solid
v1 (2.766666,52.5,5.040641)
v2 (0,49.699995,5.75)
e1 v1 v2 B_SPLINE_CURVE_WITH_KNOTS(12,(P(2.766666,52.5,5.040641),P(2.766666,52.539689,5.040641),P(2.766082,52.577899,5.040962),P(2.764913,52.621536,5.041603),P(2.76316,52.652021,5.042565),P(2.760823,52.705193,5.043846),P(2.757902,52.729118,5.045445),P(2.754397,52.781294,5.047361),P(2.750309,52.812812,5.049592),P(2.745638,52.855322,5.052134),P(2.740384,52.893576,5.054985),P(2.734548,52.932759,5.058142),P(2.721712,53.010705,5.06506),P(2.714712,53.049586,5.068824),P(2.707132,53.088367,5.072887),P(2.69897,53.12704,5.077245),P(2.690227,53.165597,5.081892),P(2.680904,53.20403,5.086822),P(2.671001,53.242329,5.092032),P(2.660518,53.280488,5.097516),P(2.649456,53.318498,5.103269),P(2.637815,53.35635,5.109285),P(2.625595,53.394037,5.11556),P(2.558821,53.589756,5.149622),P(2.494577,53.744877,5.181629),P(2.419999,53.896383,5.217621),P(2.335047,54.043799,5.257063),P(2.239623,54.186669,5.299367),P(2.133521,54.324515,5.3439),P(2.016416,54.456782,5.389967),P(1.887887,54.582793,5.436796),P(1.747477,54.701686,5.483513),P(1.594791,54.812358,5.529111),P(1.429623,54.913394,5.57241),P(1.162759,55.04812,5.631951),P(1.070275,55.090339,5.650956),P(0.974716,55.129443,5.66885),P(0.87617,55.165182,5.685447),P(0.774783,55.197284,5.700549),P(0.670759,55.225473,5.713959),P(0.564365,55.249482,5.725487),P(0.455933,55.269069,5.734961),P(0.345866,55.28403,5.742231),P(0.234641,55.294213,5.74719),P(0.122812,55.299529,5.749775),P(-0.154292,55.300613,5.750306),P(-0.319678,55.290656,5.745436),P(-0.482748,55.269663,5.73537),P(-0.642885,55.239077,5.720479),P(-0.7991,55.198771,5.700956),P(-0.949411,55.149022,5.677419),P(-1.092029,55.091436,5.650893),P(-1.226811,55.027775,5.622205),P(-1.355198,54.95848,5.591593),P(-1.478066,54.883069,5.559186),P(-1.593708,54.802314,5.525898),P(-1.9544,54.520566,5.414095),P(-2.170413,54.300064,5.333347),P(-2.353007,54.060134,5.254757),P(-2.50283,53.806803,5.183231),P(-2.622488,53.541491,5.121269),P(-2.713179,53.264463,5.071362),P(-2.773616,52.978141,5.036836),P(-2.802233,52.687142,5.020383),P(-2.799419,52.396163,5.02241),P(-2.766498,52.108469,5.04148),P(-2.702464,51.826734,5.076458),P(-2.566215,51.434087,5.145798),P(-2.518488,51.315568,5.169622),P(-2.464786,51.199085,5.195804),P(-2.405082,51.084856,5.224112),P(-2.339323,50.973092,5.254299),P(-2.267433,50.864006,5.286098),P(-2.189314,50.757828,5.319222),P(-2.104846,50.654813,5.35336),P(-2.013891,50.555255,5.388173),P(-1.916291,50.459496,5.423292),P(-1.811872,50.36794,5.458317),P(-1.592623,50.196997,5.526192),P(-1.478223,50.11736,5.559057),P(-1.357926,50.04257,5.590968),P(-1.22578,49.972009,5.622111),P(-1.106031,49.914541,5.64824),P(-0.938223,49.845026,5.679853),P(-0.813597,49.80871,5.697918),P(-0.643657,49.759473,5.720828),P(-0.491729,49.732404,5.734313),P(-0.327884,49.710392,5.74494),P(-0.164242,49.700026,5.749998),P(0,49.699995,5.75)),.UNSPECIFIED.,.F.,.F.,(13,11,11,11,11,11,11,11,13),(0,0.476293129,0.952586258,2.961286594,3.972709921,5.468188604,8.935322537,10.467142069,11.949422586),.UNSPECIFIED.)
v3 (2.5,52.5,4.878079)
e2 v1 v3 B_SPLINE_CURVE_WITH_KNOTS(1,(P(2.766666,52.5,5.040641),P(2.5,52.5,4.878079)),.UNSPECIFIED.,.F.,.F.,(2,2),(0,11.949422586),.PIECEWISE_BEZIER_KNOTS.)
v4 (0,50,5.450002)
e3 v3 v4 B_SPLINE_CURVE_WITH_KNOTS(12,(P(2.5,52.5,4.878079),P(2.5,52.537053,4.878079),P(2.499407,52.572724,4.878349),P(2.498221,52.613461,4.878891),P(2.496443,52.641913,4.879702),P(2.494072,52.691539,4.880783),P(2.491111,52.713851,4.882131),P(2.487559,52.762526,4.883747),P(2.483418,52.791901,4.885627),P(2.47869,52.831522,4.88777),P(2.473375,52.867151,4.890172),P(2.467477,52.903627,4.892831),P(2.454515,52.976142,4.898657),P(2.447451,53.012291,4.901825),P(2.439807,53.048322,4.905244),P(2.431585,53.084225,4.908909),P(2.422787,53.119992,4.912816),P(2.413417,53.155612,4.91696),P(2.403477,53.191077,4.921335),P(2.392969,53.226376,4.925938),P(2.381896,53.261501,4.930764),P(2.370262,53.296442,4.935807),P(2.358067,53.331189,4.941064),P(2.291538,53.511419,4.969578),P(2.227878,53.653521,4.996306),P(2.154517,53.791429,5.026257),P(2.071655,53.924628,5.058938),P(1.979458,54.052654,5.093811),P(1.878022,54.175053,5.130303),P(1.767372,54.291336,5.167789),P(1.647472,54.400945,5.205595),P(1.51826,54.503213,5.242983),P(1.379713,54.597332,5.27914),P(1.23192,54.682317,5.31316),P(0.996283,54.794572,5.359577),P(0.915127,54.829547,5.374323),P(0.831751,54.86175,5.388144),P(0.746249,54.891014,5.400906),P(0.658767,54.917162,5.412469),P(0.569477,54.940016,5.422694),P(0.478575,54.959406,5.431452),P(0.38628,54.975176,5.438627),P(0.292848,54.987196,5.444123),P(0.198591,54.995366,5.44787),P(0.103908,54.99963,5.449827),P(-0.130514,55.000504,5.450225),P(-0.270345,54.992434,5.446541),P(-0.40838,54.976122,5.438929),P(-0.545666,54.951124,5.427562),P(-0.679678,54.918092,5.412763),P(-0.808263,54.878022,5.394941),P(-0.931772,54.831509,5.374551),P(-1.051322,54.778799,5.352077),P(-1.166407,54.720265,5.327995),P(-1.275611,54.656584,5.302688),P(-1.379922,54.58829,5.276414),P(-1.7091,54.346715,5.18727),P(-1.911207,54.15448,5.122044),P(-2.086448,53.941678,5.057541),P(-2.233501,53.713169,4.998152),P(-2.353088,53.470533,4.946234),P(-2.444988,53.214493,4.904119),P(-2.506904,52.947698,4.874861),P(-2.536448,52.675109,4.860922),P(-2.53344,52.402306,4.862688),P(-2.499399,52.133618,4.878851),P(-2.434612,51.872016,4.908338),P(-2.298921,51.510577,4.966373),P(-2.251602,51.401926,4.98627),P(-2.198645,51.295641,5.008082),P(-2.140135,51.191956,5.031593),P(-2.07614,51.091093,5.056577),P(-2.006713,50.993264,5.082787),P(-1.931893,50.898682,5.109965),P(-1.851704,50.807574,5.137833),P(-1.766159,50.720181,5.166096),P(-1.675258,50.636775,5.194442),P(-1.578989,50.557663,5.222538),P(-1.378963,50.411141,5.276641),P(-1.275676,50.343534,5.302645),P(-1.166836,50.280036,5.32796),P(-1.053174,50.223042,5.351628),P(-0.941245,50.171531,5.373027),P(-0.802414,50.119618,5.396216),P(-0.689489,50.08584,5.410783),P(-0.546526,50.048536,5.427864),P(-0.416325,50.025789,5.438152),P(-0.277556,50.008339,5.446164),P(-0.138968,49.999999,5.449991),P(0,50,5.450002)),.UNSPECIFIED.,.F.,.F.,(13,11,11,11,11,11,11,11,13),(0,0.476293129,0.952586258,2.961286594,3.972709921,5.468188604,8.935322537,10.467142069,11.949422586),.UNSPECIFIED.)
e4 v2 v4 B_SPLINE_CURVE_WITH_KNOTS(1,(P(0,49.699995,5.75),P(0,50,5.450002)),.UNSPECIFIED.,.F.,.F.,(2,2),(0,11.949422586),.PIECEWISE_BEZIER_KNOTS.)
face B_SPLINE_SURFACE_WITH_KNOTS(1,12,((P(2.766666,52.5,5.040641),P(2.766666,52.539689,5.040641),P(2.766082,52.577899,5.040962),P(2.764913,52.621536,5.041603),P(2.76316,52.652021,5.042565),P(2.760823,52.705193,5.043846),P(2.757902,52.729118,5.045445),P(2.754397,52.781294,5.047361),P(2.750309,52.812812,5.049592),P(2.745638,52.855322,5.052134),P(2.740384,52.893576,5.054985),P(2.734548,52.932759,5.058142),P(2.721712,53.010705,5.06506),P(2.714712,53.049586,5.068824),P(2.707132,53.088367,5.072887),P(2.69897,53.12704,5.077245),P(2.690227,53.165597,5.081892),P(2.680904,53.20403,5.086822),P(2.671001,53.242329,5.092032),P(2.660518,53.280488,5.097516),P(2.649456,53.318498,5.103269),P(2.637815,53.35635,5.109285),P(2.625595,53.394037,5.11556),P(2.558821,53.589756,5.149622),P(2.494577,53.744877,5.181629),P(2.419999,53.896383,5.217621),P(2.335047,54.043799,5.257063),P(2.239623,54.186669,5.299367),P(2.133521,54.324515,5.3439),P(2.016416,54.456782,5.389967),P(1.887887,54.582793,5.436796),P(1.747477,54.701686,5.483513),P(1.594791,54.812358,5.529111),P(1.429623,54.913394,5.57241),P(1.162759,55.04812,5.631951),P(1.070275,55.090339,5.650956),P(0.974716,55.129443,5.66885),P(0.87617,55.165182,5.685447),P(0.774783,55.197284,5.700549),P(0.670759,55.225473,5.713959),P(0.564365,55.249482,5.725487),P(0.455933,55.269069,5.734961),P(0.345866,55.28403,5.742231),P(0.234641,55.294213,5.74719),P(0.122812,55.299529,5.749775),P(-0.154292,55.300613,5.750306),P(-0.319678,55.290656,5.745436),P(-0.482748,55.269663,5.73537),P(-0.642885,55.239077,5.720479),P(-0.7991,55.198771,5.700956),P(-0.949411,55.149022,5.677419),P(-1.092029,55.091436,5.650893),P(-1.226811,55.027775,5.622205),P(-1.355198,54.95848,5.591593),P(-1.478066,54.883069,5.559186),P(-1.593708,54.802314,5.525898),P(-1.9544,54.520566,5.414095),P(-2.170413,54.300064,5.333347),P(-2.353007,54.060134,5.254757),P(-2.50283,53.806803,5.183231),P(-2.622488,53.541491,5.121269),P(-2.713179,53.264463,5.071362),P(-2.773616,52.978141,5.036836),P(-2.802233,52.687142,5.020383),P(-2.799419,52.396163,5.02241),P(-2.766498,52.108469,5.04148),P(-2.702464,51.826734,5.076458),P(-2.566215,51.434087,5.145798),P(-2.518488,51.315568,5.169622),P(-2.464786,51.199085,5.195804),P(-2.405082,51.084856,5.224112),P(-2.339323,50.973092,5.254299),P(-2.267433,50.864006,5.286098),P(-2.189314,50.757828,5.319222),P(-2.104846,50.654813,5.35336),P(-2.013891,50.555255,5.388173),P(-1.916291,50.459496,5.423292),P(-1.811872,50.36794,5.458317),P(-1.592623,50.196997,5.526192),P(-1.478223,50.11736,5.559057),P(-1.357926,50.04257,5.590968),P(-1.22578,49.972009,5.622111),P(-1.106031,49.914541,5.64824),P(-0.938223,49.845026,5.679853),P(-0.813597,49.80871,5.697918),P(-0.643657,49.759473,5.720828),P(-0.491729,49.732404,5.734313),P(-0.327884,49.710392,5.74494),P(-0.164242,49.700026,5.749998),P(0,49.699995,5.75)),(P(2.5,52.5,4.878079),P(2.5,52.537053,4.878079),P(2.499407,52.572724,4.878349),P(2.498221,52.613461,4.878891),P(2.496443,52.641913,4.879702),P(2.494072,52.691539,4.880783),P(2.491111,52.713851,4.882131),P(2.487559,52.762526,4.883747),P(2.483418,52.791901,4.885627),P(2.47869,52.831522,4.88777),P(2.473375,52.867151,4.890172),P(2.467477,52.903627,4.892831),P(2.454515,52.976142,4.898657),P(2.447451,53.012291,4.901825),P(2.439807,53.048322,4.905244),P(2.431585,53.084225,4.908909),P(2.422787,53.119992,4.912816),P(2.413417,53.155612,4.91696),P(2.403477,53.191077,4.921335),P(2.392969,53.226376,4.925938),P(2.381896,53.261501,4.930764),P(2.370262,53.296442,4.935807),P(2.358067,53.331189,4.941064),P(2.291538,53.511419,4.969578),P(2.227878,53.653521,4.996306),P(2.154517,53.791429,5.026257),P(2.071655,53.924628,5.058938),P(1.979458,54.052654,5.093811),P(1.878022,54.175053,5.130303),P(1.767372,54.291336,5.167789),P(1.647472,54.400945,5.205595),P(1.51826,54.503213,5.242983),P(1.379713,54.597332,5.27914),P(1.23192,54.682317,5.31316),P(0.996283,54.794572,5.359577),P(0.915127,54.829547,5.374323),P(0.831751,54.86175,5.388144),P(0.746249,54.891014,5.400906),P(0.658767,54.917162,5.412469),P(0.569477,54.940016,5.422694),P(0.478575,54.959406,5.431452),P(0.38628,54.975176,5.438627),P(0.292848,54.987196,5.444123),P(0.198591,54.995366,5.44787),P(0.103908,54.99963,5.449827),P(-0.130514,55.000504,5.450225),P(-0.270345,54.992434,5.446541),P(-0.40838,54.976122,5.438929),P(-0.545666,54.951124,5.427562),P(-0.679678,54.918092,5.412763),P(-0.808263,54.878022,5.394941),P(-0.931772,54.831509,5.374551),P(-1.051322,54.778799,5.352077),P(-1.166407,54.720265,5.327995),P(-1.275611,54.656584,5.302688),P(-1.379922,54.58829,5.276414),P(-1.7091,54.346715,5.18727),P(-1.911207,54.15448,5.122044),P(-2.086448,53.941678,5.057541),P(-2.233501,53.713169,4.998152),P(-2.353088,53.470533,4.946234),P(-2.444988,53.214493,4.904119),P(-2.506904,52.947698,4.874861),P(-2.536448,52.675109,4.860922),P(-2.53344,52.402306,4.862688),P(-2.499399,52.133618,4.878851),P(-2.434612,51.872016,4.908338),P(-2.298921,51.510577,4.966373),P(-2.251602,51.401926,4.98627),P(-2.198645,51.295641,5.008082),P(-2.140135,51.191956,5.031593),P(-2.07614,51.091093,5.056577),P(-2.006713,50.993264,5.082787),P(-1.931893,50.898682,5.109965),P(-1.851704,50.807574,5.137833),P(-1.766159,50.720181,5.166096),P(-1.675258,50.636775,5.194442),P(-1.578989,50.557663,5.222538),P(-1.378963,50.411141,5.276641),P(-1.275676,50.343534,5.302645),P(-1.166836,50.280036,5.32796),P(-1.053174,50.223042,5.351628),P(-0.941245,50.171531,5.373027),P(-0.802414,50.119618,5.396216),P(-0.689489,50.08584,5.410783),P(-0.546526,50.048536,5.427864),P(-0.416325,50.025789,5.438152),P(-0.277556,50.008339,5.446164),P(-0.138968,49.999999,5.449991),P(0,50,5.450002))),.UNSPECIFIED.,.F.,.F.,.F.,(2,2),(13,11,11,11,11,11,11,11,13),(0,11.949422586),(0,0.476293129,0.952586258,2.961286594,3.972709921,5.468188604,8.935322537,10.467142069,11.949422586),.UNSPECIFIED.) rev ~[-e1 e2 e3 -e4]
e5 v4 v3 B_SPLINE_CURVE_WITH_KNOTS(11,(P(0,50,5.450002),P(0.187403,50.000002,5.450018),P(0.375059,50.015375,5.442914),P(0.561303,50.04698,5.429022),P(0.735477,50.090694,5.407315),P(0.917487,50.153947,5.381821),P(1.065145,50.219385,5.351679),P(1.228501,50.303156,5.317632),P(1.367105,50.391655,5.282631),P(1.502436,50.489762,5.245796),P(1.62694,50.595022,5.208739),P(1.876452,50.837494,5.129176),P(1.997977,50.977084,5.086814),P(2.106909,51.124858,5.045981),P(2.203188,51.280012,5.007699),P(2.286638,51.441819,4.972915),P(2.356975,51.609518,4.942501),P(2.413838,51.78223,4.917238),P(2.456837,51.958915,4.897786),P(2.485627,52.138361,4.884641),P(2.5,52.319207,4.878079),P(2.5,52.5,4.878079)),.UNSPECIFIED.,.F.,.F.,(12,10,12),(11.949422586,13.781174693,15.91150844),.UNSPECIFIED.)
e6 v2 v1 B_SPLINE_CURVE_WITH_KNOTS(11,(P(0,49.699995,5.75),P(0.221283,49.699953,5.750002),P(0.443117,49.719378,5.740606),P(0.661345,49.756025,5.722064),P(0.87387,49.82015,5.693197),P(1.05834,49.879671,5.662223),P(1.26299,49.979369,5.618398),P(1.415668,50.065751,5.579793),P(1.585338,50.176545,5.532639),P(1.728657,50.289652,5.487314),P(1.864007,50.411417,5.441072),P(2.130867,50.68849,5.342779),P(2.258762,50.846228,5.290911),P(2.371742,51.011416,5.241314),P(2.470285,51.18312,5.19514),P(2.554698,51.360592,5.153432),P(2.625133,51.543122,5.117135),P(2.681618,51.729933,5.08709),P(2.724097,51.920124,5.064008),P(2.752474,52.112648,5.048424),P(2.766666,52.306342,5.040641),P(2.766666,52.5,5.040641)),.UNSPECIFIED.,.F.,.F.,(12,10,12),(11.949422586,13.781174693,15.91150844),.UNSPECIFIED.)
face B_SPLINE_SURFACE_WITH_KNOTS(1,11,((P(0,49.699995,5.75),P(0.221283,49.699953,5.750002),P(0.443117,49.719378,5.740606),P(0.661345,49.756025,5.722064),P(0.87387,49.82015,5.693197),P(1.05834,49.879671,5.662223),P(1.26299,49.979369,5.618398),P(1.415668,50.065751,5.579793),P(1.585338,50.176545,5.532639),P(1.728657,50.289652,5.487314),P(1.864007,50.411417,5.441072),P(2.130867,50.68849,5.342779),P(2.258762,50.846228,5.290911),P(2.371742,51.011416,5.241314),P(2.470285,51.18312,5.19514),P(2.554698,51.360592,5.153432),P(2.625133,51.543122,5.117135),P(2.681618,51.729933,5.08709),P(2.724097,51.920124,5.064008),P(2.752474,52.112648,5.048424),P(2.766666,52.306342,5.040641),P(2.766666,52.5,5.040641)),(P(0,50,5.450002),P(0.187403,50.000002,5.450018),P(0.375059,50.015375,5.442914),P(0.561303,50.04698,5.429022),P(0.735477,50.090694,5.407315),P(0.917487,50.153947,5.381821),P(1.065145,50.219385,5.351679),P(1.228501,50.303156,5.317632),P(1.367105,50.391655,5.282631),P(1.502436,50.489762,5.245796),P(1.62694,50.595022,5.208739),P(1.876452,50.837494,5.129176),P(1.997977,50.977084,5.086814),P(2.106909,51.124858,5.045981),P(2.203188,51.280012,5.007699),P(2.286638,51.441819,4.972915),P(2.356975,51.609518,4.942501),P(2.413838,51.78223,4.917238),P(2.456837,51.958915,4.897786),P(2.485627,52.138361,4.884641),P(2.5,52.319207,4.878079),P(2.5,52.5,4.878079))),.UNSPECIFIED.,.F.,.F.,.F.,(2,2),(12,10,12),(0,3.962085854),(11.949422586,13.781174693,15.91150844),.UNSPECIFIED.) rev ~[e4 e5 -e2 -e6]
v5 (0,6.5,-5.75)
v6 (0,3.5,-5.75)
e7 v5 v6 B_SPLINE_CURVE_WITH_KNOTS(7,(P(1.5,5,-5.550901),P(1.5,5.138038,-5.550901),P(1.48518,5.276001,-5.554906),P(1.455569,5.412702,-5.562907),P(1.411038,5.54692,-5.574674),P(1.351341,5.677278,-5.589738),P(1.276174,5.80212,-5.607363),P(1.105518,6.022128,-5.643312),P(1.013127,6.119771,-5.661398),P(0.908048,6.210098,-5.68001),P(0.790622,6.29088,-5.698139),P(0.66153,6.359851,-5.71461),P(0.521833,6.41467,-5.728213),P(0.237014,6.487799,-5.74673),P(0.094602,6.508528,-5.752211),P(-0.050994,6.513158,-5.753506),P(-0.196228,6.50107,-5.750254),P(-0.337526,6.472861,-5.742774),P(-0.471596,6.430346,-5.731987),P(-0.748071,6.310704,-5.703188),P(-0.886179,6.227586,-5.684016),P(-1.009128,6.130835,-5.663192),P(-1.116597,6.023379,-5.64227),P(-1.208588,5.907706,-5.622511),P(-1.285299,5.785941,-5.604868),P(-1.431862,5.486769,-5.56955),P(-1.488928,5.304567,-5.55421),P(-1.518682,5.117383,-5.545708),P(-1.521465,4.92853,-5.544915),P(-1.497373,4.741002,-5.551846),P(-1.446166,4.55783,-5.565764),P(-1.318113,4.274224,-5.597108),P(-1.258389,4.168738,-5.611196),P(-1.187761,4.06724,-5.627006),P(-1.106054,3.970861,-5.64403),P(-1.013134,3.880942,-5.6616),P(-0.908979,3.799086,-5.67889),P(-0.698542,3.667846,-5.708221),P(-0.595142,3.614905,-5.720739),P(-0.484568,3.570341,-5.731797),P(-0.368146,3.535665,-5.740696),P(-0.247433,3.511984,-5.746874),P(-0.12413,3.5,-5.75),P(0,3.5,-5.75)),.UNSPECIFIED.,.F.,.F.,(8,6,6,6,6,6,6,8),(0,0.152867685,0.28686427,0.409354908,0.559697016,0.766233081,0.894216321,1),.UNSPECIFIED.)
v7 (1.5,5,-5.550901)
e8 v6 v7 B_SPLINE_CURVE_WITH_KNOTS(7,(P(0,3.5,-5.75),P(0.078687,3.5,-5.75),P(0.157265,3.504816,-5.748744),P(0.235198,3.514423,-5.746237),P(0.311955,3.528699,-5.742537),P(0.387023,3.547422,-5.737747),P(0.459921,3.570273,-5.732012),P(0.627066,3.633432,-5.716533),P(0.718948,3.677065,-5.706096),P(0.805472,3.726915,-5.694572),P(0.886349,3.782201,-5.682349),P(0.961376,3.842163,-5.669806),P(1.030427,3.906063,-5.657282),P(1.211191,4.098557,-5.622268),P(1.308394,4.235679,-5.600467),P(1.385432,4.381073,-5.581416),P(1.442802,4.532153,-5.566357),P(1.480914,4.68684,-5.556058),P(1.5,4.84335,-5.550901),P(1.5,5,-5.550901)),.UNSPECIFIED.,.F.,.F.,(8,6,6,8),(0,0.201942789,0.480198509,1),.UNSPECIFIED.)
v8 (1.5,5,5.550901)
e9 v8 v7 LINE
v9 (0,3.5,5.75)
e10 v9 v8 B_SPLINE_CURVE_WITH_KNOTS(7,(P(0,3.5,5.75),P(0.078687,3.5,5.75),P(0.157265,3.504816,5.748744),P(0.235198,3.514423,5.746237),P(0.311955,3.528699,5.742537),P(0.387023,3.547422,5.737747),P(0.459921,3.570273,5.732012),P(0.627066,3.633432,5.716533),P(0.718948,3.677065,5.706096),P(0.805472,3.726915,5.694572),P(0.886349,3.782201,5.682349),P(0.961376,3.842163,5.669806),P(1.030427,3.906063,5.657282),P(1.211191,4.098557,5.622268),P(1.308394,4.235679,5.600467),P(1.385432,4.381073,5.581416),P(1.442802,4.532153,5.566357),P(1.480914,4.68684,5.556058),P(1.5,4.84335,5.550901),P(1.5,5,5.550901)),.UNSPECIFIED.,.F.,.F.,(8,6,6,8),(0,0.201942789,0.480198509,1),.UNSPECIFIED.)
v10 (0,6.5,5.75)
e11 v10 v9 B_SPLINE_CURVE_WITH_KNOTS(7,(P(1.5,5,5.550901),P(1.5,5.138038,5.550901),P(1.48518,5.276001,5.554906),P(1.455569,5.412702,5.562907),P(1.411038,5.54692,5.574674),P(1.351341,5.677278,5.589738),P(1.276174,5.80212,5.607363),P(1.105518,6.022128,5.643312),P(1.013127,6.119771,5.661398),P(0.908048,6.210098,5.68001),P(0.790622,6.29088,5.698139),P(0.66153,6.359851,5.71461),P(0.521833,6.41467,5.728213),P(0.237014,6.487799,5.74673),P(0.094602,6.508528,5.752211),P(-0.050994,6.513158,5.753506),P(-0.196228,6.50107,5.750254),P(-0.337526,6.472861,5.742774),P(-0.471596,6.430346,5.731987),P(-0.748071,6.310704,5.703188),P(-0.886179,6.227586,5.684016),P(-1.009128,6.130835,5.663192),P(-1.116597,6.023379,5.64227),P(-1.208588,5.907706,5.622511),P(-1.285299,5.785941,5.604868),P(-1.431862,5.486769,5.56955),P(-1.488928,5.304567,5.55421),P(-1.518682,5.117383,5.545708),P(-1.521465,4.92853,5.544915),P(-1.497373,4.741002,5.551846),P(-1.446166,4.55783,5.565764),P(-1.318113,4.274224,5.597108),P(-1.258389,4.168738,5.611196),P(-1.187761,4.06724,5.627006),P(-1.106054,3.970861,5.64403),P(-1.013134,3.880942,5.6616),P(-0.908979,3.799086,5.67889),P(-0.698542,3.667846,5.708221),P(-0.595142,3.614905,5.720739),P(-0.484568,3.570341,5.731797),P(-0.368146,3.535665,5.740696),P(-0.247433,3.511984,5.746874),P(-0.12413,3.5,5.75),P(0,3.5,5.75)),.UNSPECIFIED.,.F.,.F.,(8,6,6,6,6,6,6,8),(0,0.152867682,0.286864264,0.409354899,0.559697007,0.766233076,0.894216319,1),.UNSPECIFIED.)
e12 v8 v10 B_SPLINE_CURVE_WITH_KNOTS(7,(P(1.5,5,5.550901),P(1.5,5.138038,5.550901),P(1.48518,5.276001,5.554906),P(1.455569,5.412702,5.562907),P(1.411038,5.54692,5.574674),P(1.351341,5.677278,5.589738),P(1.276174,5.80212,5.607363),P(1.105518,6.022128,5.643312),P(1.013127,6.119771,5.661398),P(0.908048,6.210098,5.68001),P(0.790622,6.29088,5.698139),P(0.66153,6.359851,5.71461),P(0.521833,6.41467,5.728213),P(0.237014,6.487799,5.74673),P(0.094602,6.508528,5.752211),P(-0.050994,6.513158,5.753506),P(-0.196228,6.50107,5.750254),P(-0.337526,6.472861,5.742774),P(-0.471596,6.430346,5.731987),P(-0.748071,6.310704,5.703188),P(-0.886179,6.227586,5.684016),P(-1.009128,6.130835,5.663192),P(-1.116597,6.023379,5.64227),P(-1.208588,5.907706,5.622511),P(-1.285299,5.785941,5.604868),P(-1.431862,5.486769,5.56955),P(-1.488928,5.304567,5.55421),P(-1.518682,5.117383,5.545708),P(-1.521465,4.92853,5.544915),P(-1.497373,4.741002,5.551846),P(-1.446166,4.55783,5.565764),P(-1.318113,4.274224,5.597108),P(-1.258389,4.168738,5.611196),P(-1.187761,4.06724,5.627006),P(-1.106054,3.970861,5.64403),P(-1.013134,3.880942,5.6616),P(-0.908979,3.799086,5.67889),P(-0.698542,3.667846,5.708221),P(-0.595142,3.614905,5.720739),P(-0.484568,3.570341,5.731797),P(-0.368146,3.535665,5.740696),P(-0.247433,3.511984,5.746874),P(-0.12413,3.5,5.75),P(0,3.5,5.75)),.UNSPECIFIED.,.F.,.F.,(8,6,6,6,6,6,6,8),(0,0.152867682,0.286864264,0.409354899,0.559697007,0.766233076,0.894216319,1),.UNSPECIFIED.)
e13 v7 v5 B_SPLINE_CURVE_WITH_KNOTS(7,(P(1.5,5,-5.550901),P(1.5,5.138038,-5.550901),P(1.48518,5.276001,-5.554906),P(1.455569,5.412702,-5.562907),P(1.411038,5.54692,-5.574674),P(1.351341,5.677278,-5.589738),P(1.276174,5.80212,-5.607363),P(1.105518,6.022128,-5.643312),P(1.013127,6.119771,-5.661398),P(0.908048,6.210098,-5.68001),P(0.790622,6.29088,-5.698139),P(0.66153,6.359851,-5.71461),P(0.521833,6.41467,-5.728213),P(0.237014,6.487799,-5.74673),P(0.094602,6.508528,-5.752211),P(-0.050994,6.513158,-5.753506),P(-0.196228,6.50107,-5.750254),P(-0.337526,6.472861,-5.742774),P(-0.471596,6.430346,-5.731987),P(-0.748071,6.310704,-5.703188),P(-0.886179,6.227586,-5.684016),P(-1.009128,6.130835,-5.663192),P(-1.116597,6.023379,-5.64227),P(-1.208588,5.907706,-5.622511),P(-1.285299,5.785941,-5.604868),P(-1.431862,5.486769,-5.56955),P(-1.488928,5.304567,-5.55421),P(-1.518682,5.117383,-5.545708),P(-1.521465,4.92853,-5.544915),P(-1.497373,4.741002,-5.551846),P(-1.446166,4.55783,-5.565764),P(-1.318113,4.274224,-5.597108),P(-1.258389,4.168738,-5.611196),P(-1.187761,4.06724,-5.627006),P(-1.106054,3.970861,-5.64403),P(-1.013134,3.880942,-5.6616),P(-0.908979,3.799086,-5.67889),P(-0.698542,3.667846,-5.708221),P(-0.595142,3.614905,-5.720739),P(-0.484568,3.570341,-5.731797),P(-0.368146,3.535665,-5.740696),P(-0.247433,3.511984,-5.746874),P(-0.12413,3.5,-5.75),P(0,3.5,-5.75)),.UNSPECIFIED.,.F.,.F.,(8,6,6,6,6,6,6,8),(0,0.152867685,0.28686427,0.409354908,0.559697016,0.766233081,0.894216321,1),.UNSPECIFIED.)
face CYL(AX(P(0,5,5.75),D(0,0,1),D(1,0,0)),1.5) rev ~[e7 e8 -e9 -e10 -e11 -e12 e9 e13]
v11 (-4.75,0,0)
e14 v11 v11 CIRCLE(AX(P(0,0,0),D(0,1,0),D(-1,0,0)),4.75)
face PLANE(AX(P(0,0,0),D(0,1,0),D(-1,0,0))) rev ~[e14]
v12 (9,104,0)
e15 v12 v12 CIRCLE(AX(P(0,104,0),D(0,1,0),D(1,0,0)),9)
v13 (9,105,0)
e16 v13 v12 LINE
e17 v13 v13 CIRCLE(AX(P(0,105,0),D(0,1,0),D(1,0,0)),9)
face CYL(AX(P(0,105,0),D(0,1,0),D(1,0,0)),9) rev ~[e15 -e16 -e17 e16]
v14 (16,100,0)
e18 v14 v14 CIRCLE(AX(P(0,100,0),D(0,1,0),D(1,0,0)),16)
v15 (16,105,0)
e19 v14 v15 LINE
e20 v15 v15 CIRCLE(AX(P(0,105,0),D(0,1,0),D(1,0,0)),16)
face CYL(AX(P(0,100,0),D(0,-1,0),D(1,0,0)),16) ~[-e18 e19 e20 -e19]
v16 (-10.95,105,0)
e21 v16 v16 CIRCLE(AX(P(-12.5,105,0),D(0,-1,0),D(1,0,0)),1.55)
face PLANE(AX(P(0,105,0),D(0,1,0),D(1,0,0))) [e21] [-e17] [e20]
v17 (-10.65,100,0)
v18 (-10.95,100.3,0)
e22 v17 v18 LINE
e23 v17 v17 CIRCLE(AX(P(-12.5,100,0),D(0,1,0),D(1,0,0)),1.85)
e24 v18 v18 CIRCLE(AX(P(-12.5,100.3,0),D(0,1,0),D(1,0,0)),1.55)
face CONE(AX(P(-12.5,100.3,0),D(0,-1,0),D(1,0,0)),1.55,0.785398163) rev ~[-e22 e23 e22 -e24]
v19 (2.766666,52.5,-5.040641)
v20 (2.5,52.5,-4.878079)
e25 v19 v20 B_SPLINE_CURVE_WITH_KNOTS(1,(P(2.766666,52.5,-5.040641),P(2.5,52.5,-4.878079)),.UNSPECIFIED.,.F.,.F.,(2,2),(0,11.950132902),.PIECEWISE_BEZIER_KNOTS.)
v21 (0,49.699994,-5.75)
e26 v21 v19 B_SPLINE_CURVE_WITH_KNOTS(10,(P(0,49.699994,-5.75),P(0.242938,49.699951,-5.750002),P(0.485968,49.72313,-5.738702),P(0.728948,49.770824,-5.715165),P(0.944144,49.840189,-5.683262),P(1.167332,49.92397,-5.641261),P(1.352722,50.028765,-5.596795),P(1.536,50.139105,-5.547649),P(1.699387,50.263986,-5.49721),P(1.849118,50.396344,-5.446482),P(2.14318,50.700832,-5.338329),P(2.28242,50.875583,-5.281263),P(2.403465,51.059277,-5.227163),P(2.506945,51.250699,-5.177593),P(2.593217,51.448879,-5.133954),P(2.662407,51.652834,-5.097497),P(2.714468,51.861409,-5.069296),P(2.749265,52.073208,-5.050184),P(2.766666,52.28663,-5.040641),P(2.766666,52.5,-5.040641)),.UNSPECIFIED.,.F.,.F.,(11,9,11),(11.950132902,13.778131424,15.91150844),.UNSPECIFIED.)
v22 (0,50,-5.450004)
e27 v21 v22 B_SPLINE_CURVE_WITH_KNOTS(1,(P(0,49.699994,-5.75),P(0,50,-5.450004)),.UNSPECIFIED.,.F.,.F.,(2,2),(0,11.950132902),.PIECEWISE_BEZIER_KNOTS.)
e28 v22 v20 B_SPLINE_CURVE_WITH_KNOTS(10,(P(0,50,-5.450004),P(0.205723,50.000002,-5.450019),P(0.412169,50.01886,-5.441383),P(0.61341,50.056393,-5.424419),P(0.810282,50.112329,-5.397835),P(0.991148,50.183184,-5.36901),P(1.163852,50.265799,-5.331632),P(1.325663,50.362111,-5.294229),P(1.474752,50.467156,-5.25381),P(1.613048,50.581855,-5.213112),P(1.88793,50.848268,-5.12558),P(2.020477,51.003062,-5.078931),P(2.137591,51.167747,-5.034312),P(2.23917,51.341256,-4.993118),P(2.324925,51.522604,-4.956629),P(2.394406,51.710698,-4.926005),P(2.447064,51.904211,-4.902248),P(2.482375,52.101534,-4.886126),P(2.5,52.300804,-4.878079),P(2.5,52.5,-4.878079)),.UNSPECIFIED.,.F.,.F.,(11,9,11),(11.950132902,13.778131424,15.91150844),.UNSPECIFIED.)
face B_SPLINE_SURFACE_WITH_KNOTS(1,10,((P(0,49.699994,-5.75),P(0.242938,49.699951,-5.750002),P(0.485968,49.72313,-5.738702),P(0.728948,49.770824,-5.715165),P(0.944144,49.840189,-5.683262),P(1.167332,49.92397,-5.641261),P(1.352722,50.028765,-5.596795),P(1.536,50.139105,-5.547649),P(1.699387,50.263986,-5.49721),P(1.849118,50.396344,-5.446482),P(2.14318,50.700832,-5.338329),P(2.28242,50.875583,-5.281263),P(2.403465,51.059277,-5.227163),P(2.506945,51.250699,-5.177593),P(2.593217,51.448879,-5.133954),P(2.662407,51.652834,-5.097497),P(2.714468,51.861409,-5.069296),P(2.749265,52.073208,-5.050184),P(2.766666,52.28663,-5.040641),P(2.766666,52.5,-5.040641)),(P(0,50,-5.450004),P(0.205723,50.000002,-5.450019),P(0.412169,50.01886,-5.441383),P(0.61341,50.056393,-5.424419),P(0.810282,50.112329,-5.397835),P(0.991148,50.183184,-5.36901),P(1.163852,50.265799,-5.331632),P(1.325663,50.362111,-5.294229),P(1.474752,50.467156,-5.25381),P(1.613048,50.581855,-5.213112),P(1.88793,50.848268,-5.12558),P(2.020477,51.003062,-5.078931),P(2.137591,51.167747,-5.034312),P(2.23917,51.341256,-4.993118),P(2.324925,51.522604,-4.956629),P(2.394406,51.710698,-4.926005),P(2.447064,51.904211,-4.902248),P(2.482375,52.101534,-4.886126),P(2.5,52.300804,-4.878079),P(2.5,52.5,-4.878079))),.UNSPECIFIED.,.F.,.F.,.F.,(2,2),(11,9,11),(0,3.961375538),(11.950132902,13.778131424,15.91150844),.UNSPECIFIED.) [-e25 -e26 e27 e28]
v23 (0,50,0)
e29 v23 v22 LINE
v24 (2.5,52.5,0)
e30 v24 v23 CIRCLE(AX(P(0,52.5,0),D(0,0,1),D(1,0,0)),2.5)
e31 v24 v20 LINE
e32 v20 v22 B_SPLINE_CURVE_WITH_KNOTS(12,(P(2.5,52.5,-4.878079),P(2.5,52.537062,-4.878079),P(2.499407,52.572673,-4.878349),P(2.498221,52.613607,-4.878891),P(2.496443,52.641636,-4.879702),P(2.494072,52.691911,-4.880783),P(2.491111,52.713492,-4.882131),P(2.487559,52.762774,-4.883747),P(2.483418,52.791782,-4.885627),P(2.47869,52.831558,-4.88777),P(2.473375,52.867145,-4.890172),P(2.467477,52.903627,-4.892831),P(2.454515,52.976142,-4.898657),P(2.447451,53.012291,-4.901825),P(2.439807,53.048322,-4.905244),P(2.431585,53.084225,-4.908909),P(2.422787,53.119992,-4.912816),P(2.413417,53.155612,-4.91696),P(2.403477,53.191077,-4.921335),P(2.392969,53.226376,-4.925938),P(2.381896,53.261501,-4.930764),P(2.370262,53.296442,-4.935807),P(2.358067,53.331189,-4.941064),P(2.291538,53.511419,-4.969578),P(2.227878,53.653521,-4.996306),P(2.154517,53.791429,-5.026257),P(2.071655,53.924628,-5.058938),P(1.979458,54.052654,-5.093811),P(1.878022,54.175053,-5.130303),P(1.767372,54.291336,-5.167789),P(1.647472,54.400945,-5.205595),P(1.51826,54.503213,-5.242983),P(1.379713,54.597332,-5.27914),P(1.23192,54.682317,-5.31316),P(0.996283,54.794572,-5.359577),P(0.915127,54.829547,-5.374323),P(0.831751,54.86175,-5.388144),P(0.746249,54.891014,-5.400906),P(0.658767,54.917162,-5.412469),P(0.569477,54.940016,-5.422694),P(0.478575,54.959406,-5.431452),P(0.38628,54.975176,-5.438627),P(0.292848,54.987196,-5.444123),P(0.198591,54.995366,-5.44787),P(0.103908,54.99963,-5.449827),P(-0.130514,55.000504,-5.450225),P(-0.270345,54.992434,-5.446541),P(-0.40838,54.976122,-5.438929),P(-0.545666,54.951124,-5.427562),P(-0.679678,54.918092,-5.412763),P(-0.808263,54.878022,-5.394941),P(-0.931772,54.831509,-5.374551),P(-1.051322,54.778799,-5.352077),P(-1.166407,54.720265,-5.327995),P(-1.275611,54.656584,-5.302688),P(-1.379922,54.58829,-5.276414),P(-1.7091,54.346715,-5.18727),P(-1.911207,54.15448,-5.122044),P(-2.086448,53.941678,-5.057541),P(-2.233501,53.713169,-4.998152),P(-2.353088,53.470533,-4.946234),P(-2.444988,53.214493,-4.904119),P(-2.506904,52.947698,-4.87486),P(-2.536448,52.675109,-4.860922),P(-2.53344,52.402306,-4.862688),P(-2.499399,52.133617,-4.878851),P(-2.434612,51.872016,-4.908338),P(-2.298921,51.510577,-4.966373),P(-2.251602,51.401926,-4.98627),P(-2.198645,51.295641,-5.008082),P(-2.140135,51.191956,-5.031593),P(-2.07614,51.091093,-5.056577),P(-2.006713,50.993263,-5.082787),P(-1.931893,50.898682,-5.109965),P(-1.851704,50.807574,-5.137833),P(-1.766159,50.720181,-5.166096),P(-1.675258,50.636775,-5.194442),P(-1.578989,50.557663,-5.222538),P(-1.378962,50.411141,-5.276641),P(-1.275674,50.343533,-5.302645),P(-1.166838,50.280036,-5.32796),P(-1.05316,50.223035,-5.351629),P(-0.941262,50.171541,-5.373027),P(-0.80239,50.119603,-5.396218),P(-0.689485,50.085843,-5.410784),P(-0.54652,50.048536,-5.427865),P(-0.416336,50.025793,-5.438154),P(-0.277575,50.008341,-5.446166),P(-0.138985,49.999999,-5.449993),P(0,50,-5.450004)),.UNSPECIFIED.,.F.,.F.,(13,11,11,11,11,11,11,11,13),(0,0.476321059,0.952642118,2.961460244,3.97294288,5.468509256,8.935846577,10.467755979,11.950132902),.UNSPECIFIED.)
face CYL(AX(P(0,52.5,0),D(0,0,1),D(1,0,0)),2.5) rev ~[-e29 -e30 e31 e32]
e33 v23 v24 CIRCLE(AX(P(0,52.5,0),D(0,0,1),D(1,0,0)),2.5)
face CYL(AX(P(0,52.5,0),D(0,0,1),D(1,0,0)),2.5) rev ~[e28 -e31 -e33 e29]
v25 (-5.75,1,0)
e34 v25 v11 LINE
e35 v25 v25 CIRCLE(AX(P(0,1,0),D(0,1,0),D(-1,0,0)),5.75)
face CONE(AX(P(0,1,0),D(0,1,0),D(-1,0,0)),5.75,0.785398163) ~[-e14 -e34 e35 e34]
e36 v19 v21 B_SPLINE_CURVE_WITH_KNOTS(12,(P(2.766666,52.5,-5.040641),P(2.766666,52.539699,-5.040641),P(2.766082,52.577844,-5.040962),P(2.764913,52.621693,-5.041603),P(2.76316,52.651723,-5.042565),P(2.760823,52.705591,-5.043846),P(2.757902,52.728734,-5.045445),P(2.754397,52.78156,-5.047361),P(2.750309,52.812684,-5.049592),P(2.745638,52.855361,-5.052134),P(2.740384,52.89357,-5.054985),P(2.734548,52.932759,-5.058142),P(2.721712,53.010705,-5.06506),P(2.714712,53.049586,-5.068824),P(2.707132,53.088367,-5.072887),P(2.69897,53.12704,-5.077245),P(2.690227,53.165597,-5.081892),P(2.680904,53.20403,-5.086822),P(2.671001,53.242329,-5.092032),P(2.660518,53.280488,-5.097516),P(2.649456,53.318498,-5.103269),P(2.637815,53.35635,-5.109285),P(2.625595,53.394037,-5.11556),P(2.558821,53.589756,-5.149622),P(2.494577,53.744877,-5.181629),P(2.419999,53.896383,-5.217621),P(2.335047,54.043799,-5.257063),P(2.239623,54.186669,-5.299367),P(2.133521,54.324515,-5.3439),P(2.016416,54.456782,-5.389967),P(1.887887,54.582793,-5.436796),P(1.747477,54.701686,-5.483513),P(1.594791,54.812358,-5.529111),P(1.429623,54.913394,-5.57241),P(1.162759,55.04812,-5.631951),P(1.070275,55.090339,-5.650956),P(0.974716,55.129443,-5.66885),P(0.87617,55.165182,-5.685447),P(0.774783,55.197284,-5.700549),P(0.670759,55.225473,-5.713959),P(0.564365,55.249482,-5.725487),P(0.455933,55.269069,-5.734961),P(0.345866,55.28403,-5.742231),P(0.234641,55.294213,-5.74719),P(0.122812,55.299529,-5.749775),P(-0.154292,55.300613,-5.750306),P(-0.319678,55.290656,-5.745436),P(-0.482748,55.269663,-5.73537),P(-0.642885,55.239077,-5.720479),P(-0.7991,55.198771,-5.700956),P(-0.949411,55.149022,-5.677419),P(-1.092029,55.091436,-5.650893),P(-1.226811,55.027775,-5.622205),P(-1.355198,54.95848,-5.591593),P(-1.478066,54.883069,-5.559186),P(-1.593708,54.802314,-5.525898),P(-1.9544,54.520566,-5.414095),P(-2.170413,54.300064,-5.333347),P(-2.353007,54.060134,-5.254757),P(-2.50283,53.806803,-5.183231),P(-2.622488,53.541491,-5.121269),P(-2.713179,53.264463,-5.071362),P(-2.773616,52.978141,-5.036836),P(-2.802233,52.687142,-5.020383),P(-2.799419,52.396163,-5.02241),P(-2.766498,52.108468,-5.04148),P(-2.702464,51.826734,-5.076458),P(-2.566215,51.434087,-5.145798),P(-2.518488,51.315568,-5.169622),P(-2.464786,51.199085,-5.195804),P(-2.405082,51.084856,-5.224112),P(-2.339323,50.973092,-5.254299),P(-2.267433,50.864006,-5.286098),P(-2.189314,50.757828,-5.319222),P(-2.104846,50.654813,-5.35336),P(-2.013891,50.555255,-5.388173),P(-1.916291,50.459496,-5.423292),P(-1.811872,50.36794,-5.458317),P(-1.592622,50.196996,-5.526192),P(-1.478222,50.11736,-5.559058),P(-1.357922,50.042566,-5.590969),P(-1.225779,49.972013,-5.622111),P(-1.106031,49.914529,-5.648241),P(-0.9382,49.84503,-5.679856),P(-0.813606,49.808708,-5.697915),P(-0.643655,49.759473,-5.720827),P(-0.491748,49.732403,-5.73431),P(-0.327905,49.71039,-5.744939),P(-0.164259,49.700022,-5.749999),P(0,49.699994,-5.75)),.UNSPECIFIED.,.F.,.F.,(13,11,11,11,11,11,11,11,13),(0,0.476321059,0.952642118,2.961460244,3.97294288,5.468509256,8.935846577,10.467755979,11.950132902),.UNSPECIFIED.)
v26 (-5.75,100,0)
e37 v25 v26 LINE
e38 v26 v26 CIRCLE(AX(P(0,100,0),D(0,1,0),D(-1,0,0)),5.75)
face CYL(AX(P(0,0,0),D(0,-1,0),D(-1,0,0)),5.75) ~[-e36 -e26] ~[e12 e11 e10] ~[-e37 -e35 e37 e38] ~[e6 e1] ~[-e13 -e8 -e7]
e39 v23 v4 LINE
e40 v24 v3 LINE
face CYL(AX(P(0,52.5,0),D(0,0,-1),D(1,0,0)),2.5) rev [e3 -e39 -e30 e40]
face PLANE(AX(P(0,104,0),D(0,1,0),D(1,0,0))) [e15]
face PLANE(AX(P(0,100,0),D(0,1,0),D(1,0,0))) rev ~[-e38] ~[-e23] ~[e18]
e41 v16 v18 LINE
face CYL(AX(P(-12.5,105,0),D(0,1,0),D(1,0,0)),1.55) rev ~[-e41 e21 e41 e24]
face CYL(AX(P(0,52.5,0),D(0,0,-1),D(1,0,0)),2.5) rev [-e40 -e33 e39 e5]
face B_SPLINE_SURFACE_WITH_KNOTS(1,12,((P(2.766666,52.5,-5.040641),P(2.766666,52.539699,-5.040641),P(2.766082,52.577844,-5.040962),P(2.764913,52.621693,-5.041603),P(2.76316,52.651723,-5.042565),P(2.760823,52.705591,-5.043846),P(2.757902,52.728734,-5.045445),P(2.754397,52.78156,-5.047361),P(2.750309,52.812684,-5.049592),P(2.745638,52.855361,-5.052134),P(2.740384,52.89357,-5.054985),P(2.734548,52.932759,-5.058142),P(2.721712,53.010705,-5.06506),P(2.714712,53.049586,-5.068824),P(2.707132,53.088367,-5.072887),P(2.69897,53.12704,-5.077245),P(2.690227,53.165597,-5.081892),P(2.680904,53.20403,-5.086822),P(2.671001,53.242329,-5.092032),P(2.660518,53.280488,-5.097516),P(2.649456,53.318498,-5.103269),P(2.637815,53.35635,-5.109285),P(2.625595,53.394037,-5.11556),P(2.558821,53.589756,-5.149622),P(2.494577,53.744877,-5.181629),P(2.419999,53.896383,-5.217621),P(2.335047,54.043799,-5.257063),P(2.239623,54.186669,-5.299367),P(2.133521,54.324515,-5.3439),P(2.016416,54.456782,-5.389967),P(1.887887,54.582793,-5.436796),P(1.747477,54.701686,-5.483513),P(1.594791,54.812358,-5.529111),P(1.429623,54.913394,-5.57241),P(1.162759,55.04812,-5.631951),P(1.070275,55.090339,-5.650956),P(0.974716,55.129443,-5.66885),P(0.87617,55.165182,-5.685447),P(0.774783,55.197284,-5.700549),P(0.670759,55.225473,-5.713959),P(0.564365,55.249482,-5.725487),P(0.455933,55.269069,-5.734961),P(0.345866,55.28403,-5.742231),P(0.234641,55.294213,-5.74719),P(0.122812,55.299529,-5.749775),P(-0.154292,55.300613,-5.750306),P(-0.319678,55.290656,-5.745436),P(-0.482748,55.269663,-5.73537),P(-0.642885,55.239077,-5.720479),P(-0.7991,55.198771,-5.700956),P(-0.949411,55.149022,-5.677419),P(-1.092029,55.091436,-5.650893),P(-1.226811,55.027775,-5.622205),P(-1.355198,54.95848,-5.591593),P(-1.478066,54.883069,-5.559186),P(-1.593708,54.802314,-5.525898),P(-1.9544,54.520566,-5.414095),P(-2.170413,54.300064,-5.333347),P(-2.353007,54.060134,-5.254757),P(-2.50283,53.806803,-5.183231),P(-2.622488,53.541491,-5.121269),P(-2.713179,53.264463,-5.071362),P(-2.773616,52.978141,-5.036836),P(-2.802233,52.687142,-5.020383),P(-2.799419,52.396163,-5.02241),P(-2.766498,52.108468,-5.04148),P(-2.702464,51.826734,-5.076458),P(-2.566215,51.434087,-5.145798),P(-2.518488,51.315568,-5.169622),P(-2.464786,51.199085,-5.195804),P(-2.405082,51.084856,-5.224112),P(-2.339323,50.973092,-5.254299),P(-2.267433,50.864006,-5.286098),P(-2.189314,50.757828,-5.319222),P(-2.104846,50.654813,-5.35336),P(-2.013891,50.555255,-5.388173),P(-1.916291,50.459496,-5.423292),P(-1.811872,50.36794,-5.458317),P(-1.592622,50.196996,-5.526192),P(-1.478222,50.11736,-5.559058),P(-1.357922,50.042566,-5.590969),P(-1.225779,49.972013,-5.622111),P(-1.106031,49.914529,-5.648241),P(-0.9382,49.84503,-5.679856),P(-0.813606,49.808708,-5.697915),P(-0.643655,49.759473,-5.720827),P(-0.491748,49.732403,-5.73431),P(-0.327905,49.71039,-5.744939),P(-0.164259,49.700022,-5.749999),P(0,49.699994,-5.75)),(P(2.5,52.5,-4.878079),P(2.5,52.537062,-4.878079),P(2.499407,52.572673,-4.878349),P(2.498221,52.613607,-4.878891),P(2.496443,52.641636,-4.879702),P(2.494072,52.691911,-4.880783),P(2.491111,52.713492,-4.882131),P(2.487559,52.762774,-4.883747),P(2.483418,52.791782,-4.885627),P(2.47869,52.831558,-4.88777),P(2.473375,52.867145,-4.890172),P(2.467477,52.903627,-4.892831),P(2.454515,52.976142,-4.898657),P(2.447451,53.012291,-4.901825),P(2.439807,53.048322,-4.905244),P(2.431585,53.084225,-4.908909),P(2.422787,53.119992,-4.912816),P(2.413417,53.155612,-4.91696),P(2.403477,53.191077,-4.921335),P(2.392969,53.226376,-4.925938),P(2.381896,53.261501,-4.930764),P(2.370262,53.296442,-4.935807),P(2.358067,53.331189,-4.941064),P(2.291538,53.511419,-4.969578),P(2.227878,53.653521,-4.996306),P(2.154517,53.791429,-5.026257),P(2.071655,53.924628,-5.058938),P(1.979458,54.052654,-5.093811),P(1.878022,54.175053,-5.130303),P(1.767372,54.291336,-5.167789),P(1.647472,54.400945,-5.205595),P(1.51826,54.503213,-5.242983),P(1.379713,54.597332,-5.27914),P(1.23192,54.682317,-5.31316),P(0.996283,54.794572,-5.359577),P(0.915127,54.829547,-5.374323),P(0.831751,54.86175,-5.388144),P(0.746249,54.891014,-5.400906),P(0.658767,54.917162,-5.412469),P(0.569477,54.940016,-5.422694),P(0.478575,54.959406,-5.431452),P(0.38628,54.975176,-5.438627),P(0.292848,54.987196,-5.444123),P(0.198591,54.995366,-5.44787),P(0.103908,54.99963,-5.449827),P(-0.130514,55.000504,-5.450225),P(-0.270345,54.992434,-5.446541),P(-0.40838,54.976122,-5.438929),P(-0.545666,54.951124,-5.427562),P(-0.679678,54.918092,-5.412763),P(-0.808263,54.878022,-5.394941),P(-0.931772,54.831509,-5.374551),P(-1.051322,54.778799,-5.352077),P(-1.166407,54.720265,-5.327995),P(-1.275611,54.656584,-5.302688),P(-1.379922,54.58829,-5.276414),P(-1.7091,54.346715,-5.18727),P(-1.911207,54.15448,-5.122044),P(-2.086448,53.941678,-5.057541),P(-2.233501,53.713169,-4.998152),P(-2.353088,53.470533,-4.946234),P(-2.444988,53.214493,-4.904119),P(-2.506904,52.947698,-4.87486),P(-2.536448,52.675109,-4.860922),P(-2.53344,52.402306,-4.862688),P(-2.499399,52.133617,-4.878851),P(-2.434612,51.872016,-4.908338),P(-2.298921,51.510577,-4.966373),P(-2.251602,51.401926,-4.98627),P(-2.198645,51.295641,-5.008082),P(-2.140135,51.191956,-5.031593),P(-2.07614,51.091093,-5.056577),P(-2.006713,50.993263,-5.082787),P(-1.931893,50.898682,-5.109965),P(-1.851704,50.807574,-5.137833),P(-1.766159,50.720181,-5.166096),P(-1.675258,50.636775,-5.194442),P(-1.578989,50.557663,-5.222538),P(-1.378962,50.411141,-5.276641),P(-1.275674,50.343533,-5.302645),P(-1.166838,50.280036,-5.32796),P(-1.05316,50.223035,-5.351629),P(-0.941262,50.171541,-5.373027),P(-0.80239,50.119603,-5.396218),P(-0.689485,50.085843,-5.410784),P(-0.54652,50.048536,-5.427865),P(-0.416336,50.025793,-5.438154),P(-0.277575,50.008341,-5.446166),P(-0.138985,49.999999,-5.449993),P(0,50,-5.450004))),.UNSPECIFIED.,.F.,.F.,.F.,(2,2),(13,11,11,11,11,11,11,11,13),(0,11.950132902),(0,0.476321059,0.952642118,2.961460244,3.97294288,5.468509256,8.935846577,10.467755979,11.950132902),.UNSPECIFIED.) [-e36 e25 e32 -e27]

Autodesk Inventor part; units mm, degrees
ref_plane "YZ Plane" through (0, 0, 0) normal (1, 0, 0) x (0, 1, 0)
ref_plane "XZ Plane" through (0, 0, 0) normal (0, 1, 0) x (-1, 0, 0)
sketch "Sketch1" plane through (0, 0, 0) normal (0, 1, 0) x (-1, 0, 0)
  circle A0 centre (0, 0) radius 5.75
  dimension "d0" = 11.5
extrude "Extrusion1" add sketch "Sketch1" along normal blind 100
sketch "Sketch2" plane through (0, 100, 0) normal (0, 1, 0) x (1, 0, 0)
  circle A0 centre (0, 0) radius 16
  dimension "d3" = 32
extrude "Extrusion2" add sketch "Sketch2" along normal blind 5
sketch "Sketch3" plane through (0, 105, 0) normal (0, 1, 0) x (1, 0, 0)
  circle A0 centre (0, 0) radius 9
  dimension "d6" = 18
extrude "Extrusion3" cut sketch "Sketch3" against normal blind 1
ref_plane "Work Plane1" through (0, 0, 5.75) normal (0, 0, 1) x (1, 0, 0)
sketch "Sketch4" plane through (0, 0, 5.75) normal (0, 0, 1) x (1, 0, 0)
  line L0 (5.75, 100) -> (-5.75, 100) projected
  line L1 (5.75, 0) -> (-5.75, 0) projected
  line L2 (0, 0) -> (0, 5)
  circle A0 centre (0, 5) radius 1.5
  dimension "d9" = 5
  dimension "d10" = 3
extrude "Extrusion4" cut sketch "Sketch4" against normal blind 11.5
chamfer "Chamfer1" distance 1 angle 45 1 edges at (5.75, 0, 0)
sketch "Sketch5" plane through (0, 0, 0) normal (0, 0, 1) x (1, 0, 0)
  line L0 (0, 0) -> (0, 42.5)
  line L1 (0, 42.5) -> (0, 32.5)
  line L2 (0, 42.5) -> (0, 52.5)
  circle A0 centre (0, 52.5) radius 2.5
  dimension "d16" = 42.5
  dimension "d17" = 10
  dimension "d18" = 10
  dimension "d19" = 5
extrude "Extrusion5" cut sketch "Sketch5" along normal mid plane 13
sketch "Sketch7" plane through (0, 105, 0) normal (0, 1, 0) x (1, 0, 0)
  circle A0 centre (0, 0) radius 9 projected
  line L0 (-9, 0) -> (-16, 0)
  circle A1 centre (0, 0) radius 16 projected
  circle A2 centre (-12.5, 0) radius 1.55
  dimension "d22" = 3.1
extrude "Extrusion6" cut sketch "Sketch7" against normal up to surface (5 mm away) contours A2 L0 | L0 A2
chamfer "Chamfer2" distance 0.3 angle 45 1 edges at (-14.05, 100, 0)
chamfer "Chamfer3" distance 0.3 angle 45 2 edges at (-2.5, 52.5, 5.1781) (-2.5, 52.5, -5.1781)
properties part number "wał_hamulca" material "ABS Plastic"
